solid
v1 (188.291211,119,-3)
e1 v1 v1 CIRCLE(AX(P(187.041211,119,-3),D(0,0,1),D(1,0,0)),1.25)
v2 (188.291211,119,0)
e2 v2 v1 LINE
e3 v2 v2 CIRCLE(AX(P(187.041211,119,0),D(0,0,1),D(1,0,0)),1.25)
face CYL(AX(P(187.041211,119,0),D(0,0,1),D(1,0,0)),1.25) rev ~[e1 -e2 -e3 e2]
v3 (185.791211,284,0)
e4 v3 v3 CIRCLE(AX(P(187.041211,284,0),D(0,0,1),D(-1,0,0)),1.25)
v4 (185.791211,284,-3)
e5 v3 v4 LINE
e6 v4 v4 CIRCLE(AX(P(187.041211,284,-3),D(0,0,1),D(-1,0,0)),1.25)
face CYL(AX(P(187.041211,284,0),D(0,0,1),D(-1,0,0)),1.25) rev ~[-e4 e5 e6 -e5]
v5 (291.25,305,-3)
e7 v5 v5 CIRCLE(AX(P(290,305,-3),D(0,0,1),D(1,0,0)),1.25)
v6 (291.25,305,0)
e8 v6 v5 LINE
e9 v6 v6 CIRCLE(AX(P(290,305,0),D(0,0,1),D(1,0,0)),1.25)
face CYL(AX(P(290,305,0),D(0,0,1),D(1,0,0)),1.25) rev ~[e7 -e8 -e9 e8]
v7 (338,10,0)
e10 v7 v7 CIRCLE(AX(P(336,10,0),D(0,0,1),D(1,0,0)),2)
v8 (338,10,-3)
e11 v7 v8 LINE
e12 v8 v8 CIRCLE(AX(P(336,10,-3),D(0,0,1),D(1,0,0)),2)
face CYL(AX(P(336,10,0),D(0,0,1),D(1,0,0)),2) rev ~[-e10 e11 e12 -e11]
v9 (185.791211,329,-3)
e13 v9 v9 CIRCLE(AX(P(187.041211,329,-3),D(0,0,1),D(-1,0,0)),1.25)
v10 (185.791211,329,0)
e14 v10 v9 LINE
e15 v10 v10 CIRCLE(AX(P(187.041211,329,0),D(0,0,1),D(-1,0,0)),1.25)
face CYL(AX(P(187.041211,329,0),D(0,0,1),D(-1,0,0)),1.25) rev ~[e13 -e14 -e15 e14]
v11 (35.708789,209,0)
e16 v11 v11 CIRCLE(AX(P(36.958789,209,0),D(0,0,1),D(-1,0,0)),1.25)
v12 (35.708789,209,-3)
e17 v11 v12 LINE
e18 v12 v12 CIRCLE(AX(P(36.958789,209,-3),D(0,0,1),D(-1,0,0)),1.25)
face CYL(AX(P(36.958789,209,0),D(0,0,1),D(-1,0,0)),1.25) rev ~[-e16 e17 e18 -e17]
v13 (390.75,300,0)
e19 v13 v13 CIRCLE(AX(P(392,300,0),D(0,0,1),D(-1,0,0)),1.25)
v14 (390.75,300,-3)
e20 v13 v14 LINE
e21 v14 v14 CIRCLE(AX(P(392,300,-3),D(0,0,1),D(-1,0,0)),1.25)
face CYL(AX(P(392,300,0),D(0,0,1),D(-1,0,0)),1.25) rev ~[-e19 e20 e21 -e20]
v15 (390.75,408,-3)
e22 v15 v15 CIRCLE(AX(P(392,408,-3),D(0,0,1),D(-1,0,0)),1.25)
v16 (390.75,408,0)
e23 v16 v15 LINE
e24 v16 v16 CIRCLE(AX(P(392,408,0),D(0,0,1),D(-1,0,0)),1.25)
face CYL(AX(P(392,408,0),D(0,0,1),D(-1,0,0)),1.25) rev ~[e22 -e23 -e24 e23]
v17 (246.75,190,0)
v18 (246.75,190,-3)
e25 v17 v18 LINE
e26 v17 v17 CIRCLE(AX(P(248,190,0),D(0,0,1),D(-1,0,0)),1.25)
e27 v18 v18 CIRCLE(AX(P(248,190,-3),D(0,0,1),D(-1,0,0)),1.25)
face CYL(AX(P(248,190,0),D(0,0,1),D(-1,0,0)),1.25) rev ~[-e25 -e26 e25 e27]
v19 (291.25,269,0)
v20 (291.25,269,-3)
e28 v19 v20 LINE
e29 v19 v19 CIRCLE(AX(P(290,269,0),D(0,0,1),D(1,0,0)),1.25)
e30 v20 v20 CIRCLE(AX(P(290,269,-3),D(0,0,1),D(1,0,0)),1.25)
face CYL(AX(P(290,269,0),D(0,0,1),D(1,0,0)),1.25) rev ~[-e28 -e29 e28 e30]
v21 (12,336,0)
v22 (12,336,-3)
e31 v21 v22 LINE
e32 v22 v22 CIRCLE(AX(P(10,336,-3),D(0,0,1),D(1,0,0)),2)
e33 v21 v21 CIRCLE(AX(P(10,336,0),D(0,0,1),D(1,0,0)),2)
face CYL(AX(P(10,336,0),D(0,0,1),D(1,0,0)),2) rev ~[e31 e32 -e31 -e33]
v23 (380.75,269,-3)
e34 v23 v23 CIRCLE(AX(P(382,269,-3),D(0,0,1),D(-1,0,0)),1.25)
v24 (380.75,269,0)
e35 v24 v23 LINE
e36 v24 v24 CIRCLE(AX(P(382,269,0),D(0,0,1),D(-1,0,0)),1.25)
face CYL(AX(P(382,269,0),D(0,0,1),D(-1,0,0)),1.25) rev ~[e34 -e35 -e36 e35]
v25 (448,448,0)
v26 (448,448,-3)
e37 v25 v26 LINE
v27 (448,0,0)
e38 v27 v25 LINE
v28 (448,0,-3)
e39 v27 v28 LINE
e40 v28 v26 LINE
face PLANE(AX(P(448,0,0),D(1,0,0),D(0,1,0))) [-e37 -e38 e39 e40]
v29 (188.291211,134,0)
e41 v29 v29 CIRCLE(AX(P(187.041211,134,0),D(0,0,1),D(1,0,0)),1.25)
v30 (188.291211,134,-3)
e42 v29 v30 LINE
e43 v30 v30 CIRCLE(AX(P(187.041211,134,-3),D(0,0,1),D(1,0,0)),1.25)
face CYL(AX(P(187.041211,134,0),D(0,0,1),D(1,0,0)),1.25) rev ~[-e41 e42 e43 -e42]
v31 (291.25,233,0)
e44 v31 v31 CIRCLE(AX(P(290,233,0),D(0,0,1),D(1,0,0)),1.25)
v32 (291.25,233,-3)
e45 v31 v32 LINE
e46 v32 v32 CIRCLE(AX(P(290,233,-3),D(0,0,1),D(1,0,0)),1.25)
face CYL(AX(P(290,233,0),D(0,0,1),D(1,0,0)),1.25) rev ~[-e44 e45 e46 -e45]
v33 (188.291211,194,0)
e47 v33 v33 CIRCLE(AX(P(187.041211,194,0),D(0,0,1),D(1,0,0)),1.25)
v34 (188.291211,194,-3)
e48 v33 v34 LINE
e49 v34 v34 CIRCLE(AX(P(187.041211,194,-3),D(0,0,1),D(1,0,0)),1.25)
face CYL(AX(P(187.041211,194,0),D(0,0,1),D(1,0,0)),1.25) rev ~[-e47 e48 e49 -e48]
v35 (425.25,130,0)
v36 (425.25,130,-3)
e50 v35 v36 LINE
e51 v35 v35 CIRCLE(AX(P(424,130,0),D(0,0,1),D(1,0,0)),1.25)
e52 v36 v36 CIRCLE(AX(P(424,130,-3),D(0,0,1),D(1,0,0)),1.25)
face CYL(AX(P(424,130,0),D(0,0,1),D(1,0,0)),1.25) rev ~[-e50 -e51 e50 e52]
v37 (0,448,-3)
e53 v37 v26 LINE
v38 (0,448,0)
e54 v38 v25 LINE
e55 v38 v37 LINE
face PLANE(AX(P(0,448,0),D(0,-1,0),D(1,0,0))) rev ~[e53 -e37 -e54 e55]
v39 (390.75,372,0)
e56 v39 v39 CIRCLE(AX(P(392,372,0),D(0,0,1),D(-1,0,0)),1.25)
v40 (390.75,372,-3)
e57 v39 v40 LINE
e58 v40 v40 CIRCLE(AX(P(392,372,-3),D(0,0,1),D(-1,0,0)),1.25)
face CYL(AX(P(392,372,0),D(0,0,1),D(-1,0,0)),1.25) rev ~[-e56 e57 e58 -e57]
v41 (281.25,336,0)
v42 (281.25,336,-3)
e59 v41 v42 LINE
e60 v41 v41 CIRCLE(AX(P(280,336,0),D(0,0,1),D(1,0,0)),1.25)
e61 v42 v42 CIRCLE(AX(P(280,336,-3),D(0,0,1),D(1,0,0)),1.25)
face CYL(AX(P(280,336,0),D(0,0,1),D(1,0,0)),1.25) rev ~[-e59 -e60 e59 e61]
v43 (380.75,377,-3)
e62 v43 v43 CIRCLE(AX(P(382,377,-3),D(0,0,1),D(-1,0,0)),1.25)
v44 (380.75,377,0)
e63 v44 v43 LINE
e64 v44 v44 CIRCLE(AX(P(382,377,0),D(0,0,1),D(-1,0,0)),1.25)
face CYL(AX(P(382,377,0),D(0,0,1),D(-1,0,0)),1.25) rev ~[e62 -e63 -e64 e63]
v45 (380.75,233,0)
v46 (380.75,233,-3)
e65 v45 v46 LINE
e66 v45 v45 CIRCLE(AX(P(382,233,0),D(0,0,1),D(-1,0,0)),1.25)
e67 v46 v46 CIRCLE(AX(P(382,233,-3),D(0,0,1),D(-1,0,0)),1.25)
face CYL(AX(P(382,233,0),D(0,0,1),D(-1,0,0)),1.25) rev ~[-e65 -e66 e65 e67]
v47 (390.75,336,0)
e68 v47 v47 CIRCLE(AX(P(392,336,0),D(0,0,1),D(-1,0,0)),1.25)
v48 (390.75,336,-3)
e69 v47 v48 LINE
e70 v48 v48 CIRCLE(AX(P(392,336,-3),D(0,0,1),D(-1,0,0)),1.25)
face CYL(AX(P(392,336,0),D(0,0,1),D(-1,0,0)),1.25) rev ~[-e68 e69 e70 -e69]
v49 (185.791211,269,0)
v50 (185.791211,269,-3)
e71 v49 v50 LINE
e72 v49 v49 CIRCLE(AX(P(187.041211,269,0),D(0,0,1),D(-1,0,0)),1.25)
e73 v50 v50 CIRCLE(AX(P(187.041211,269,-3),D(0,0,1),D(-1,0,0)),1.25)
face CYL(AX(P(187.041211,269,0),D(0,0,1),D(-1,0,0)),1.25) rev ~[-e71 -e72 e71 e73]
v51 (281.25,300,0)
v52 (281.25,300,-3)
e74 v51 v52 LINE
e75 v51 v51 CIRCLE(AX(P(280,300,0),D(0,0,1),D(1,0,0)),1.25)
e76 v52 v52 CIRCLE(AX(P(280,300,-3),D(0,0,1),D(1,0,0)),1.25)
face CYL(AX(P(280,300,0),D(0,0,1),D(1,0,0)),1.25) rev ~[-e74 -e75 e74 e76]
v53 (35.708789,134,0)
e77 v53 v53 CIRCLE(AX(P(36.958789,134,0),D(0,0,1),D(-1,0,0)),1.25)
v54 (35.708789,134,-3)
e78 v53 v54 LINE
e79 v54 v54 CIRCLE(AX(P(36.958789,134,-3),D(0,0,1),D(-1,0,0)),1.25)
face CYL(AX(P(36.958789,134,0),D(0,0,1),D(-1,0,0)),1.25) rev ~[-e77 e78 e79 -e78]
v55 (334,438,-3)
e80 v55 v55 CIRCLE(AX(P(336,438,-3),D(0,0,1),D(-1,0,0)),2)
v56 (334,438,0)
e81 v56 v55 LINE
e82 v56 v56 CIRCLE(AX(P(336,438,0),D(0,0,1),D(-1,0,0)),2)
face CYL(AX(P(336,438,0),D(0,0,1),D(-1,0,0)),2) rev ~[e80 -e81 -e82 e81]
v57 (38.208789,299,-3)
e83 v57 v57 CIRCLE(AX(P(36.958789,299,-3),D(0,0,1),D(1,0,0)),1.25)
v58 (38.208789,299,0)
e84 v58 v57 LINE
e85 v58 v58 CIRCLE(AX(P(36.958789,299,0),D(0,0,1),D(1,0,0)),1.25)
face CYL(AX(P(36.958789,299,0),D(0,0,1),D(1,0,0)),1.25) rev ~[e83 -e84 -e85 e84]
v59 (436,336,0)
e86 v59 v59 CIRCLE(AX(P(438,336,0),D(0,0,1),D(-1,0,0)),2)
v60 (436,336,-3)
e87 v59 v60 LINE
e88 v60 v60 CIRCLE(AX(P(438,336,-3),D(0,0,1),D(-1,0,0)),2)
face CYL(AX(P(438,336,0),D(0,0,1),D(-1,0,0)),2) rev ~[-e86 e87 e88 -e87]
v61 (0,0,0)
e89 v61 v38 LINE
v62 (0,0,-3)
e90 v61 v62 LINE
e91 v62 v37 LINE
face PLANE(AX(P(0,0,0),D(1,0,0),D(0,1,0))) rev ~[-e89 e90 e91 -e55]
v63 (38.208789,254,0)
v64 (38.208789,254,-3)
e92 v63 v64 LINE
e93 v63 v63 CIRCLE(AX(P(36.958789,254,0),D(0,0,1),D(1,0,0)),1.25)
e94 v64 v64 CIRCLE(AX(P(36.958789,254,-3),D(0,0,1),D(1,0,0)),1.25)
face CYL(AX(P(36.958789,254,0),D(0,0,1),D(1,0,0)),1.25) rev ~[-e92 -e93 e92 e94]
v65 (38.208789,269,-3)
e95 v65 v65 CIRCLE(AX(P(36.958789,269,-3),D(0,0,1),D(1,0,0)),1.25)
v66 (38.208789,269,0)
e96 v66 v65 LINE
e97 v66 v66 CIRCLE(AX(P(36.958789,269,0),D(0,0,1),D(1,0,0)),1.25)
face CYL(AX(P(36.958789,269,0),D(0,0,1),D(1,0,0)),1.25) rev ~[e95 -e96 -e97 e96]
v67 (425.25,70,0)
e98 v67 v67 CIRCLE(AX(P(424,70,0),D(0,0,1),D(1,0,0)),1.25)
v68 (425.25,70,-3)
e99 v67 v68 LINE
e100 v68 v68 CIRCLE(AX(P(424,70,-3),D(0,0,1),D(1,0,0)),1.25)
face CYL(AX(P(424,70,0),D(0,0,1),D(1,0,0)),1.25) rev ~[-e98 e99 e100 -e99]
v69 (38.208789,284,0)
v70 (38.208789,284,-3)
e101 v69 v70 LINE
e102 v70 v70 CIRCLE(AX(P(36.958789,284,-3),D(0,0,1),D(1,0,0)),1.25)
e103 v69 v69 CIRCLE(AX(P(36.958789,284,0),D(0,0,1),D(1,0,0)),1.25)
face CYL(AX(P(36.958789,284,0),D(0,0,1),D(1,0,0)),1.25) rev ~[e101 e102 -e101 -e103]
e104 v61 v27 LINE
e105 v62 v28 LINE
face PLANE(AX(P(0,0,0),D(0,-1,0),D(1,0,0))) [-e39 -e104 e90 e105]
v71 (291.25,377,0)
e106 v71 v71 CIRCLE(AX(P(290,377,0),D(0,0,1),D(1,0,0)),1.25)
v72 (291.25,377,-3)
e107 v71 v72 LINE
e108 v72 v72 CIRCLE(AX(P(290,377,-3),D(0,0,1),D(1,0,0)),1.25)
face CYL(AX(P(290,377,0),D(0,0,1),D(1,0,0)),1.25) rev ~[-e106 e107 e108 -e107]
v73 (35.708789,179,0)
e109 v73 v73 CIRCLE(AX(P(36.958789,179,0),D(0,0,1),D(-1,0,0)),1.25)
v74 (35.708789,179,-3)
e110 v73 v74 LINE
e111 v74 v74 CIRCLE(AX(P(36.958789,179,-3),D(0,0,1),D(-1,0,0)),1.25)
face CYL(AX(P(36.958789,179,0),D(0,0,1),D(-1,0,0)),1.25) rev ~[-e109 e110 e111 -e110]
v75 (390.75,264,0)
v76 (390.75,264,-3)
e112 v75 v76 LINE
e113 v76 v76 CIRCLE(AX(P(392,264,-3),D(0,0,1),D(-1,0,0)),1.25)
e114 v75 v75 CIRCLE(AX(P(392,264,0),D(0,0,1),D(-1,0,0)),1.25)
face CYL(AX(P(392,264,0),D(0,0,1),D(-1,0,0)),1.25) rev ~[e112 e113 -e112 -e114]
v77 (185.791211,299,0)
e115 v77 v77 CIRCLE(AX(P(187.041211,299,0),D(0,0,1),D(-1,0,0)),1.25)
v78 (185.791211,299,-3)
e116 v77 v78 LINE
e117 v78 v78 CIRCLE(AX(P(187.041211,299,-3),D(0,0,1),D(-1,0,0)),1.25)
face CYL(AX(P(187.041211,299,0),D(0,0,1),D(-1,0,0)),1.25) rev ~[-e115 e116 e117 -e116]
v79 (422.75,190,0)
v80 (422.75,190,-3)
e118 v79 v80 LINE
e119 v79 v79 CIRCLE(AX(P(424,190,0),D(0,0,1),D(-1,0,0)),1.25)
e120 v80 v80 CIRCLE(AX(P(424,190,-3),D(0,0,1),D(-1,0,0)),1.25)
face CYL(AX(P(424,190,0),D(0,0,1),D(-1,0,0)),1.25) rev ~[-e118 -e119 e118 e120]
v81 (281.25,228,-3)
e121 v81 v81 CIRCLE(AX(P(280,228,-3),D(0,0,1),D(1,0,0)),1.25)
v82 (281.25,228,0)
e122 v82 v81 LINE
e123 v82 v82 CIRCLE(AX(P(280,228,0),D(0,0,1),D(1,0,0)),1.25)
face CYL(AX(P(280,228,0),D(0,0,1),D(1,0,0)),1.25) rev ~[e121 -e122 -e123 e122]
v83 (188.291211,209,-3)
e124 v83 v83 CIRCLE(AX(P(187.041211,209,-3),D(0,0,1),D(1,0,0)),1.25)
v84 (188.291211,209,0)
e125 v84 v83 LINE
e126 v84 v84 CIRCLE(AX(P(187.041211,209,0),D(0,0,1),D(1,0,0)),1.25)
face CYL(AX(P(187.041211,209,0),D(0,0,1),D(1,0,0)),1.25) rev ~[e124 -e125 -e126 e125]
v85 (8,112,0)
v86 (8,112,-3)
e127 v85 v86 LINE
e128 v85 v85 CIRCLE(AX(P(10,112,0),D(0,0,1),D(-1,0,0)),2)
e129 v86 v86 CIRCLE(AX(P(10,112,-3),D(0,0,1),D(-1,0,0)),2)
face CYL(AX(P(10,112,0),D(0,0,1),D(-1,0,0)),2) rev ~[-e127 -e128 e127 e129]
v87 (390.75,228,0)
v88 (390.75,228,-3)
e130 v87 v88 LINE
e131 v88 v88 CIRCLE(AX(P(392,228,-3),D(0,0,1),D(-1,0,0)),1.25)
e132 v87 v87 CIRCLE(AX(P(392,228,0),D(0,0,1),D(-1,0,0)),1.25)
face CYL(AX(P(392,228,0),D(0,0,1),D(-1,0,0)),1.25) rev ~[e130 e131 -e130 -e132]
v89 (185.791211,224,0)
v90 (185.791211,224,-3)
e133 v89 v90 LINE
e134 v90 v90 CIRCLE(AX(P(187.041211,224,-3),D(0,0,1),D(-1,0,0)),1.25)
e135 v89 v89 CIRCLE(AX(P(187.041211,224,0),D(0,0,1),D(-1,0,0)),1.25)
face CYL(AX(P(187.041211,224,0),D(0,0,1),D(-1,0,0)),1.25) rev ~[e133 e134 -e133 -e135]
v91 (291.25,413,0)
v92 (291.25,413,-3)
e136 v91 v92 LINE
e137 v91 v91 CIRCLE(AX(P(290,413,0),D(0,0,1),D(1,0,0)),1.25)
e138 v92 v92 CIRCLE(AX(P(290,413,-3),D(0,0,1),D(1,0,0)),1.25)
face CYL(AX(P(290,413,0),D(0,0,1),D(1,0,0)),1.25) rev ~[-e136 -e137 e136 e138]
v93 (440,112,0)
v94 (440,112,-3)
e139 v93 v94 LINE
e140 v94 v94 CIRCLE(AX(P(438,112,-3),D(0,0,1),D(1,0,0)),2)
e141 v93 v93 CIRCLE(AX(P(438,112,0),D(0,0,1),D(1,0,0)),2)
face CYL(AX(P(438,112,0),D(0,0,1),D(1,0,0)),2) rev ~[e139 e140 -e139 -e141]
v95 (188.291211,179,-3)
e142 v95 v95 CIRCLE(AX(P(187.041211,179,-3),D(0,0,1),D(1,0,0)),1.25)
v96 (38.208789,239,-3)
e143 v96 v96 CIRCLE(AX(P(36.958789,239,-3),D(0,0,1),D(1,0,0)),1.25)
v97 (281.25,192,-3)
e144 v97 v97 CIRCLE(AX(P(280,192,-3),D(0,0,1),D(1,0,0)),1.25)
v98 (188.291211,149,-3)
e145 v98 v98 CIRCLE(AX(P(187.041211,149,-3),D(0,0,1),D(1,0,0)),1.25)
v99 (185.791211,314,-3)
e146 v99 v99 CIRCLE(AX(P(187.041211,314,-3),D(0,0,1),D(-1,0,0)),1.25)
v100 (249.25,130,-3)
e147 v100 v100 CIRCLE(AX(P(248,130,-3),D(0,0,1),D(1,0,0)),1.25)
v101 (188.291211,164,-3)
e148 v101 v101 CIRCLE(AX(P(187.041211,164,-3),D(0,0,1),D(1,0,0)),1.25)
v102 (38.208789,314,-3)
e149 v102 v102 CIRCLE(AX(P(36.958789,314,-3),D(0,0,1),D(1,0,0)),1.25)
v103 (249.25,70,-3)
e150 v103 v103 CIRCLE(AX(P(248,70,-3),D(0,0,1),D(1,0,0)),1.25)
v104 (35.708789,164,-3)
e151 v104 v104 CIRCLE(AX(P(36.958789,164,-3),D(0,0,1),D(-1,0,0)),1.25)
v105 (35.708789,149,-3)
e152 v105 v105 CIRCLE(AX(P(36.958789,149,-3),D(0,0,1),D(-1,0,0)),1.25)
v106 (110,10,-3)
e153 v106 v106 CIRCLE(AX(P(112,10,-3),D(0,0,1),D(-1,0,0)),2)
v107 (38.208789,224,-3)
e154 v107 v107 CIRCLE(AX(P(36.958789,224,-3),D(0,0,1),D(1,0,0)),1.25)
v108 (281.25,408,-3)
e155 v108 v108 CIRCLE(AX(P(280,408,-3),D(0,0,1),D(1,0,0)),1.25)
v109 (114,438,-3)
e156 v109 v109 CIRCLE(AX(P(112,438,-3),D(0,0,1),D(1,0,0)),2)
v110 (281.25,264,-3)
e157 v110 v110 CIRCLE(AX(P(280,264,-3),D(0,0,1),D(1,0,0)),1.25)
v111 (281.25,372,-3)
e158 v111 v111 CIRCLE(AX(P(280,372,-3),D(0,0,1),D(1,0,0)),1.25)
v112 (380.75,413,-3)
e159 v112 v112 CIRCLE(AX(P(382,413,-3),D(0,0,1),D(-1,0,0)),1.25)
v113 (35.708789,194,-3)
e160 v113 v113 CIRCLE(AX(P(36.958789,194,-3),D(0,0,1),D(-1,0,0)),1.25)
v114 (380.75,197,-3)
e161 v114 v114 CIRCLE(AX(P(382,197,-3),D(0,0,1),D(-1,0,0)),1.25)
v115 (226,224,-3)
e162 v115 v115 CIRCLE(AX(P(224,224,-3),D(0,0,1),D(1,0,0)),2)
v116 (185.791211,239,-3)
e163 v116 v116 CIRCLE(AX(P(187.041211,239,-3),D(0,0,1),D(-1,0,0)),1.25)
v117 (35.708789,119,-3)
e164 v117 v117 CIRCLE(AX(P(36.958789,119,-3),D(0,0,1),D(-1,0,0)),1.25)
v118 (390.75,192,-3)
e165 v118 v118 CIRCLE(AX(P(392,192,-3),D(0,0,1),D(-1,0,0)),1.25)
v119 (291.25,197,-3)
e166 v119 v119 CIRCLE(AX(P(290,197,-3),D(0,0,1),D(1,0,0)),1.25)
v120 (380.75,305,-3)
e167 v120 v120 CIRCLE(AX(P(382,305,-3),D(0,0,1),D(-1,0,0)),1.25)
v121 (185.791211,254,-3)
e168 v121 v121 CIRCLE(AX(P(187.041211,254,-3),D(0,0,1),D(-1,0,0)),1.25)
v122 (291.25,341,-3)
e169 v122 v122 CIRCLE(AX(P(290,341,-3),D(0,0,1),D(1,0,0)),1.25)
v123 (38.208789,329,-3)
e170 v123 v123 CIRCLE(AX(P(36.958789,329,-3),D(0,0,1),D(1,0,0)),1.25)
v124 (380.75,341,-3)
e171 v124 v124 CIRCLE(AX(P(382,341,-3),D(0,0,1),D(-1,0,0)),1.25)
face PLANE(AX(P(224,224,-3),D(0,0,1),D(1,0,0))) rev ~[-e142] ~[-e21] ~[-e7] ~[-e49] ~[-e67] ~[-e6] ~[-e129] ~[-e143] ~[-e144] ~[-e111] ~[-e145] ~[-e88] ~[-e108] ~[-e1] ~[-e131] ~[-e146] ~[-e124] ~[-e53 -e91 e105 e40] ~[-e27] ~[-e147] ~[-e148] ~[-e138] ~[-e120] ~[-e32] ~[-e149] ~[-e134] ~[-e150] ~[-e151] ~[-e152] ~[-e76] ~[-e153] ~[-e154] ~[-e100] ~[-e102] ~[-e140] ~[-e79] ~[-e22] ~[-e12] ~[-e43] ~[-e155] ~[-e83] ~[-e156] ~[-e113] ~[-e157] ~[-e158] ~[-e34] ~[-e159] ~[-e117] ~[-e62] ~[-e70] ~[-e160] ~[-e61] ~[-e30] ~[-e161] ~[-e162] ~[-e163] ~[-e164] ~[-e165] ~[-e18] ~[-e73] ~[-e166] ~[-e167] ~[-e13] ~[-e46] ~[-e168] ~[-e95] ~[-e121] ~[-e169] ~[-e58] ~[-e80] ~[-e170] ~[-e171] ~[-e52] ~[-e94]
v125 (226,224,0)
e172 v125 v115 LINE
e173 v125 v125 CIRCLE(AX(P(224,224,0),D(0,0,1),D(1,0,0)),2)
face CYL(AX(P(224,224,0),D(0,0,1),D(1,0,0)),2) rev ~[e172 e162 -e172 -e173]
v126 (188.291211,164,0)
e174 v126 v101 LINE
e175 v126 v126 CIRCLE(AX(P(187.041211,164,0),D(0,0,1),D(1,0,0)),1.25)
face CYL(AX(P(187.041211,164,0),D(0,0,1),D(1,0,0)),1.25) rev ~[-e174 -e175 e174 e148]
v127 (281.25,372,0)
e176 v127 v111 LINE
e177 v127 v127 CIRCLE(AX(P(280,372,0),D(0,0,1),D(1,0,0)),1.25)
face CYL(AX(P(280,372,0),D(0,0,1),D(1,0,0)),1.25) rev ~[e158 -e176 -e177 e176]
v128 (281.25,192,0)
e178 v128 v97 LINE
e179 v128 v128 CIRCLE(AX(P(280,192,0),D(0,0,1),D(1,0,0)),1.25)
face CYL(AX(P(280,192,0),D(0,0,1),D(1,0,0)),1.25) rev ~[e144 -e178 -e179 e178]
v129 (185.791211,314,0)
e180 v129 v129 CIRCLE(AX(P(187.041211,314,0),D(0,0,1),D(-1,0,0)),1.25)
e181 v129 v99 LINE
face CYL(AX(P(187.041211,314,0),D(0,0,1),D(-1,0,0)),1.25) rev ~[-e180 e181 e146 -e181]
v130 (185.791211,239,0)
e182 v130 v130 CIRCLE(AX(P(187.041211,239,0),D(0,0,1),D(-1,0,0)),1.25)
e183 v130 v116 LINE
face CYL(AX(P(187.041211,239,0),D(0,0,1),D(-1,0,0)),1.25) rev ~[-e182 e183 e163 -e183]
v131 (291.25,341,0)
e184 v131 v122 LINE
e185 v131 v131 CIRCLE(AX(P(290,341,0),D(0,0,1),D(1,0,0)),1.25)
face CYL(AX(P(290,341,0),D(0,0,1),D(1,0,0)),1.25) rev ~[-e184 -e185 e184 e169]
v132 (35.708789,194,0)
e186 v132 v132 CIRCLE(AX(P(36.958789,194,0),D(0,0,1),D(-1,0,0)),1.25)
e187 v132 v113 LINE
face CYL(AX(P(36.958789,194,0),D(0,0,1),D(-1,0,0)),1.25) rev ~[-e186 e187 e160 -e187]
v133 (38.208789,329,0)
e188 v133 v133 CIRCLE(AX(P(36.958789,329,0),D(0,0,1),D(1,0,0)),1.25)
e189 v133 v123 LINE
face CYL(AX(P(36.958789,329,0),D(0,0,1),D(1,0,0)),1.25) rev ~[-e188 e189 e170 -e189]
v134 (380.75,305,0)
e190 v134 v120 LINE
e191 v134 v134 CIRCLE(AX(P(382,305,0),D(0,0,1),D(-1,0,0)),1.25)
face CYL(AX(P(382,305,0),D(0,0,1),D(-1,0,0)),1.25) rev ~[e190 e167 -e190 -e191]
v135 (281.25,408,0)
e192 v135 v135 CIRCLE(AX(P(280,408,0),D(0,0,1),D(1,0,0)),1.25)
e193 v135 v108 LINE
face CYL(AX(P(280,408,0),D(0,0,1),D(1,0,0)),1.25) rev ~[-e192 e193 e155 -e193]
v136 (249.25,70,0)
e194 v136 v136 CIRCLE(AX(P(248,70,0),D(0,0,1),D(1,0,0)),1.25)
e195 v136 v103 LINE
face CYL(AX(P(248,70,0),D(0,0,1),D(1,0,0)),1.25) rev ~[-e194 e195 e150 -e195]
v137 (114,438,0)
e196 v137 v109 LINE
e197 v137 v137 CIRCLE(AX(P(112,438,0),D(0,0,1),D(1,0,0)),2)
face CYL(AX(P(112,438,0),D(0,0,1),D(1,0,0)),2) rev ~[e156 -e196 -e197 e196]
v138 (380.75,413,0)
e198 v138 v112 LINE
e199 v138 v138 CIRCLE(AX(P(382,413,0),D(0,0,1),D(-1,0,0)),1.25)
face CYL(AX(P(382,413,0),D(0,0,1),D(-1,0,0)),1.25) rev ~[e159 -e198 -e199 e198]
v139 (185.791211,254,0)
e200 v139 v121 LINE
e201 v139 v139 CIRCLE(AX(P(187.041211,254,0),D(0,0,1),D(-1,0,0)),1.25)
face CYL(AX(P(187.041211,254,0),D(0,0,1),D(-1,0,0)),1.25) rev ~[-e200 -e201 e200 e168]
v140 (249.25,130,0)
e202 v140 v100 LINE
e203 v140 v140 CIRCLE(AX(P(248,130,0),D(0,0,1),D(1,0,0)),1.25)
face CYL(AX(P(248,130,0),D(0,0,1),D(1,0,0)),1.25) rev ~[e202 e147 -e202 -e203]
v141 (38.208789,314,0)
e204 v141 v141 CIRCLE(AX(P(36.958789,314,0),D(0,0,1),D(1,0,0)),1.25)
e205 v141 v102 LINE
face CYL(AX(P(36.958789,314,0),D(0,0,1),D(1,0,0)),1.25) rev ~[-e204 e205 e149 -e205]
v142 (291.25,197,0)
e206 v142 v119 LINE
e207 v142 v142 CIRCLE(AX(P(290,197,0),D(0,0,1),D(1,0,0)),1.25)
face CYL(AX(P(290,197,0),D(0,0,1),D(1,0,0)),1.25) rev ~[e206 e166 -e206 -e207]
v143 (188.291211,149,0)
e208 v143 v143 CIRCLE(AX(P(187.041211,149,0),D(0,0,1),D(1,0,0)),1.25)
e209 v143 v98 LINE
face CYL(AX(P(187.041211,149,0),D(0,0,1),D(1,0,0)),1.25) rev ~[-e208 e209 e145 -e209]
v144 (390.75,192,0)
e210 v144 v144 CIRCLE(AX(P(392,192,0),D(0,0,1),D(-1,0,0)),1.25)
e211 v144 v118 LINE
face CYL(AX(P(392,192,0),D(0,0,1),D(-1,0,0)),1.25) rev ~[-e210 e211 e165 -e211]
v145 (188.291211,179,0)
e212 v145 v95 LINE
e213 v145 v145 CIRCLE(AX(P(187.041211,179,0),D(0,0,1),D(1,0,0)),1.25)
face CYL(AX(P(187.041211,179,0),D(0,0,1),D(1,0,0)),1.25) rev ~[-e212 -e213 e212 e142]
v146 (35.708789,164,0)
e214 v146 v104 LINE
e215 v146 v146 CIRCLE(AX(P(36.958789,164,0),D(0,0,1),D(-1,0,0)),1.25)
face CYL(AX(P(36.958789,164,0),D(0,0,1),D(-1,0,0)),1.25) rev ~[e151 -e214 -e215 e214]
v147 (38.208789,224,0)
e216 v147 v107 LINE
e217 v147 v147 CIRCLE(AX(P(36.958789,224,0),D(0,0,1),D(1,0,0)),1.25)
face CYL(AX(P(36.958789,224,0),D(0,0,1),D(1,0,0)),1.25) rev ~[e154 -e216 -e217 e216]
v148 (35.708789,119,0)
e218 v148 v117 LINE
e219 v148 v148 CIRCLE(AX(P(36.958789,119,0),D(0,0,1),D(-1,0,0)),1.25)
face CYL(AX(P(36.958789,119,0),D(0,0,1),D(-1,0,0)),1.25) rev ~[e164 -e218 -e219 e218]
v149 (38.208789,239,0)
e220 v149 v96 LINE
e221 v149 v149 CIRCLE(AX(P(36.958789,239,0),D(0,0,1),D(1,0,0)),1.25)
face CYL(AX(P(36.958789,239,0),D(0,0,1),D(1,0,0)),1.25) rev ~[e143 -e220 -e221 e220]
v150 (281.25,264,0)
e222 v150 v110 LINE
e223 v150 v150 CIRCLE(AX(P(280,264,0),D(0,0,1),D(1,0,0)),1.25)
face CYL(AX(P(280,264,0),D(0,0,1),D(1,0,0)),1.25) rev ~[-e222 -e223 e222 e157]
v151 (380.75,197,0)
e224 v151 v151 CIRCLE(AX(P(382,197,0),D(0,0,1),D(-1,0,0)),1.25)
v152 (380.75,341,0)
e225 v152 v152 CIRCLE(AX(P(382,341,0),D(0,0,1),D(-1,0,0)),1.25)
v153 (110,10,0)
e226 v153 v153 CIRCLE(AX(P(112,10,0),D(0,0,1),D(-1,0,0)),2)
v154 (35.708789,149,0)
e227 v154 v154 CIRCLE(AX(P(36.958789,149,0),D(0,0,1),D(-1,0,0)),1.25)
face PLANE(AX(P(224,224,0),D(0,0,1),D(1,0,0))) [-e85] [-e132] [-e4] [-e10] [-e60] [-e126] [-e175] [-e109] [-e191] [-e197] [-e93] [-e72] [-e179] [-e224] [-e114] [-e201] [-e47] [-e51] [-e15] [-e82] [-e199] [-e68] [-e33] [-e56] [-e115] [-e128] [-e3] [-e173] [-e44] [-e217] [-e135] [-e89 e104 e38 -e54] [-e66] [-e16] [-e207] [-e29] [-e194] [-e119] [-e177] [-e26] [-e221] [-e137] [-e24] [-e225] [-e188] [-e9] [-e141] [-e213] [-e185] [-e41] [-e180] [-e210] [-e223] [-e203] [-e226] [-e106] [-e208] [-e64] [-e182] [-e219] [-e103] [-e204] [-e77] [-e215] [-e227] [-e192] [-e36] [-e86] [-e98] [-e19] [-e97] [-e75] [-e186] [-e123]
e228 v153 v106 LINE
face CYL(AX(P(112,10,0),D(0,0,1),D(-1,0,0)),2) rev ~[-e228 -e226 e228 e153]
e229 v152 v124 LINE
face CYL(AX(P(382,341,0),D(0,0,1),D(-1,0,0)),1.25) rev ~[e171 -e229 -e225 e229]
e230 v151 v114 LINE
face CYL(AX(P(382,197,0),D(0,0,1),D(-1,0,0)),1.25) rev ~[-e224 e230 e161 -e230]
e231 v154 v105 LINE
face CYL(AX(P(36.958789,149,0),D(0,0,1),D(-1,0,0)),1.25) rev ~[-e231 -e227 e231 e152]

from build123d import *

# Parameters (mm, degrees)
SCHIZZO1_W                   = 448
SCHIZZO1_H                   = 448
SCHIZZO1_R                   = 2
SCHIZZO1_R_2                 = 1.25
ESTRUSIONE_ESTRUSIONE1_DEPTH = 3


with BuildPart() as part:
    # Schizzo1 → Estrusione-Estrusione1 (new body)
    with BuildSketch(Plane.XY):
        with Locations((224, 224)):
            Rectangle(SCHIZZO1_W, SCHIZZO1_H)
        with Locations((10, 336)):
            Circle(SCHIZZO1_R, mode=Mode.SUBTRACT)
        with Locations(Location((336, 438, 0), (0, 0, 180))):
            Circle(SCHIZZO1_R, mode=Mode.SUBTRACT)
        with Locations(Location((438, 336, 0), (0, 0, 180))):
            Circle(SCHIZZO1_R, mode=Mode.SUBTRACT)
        with Locations((438, 112)):
            Circle(SCHIZZO1_R, mode=Mode.SUBTRACT)
        with Locations((336, 10)):
            Circle(SCHIZZO1_R, mode=Mode.SUBTRACT)
        with Locations(Location((112, 10, 0), (0, 0, 180))):
            Circle(SCHIZZO1_R, mode=Mode.SUBTRACT)
        with Locations(Location((10, 112, 0), (0, 0, 180))):
            Circle(SCHIZZO1_R, mode=Mode.SUBTRACT)
        with Locations((36.958788995, 224)):
            Circle(SCHIZZO1_R_2, mode=Mode.SUBTRACT)
        with Locations((112, 438)):
            Circle(SCHIZZO1_R, mode=Mode.SUBTRACT)
        with Locations((36.958788995, 239)):
            Circle(SCHIZZO1_R_2, mode=Mode.SUBTRACT)
        with Locations((36.958788995, 254)):
            Circle(SCHIZZO1_R_2, mode=Mode.SUBTRACT)
        with Locations((36.958788995, 269)):
            Circle(SCHIZZO1_R_2, mode=Mode.SUBTRACT)
        with Locations((36.958788995, 284)):
            Circle(SCHIZZO1_R_2, mode=Mode.SUBTRACT)
        with Locations((36.958788995, 299)):
            Circle(SCHIZZO1_R_2, mode=Mode.SUBTRACT)
        with Locations((36.958788995, 314)):
            Circle(SCHIZZO1_R_2, mode=Mode.SUBTRACT)
        with Locations((36.958788995, 329)):
            Circle(SCHIZZO1_R_2, mode=Mode.SUBTRACT)
        with Locations((248, 70)):
            Circle(SCHIZZO1_R_2, mode=Mode.SUBTRACT)
        with Locations((248, 130)):
            Circle(SCHIZZO1_R_2, mode=Mode.SUBTRACT)
        with Locations((424, 130)):
            Circle(SCHIZZO1_R_2, mode=Mode.SUBTRACT)
        with Locations((424, 70)):
            Circle(SCHIZZO1_R_2, mode=Mode.SUBTRACT)
        with Locations((290, 413)):
            Circle(SCHIZZO1_R_2, mode=Mode.SUBTRACT)
        with Locations((280, 408)):
            Circle(SCHIZZO1_R_2, mode=Mode.SUBTRACT)
        with Locations(Location((392, 408, 0), (0, 0, 180))):
            Circle(SCHIZZO1_R_2, mode=Mode.SUBTRACT)
        with Locations(Location((382, 413, 0), (0, 0, 180))):
            Circle(SCHIZZO1_R_2, mode=Mode.SUBTRACT)
        with Locations((290, 377)):
            Circle(SCHIZZO1_R_2, mode=Mode.SUBTRACT)
        with Locations((280, 372)):
            Circle(SCHIZZO1_R_2, mode=Mode.SUBTRACT)
        with Locations(Location((392, 372, 0), (0, 0, 180))):
            Circle(SCHIZZO1_R_2, mode=Mode.SUBTRACT)
        with Locations(Location((382, 377, 0), (0, 0, 180))):
            Circle(SCHIZZO1_R_2, mode=Mode.SUBTRACT)
        with Locations((290, 341)):
            Circle(SCHIZZO1_R_2, mode=Mode.SUBTRACT)
        with Locations((280, 336)):
            Circle(SCHIZZO1_R_2, mode=Mode.SUBTRACT)
        with Locations(Location((392, 336, 0), (0, 0, 180))):
            Circle(SCHIZZO1_R_2, mode=Mode.SUBTRACT)
        with Locations(Location((382, 341, 0), (0, 0, 180))):
            Circle(SCHIZZO1_R_2, mode=Mode.SUBTRACT)
        with Locations((290, 305)):
            Circle(SCHIZZO1_R_2, mode=Mode.SUBTRACT)
        with Locations((280, 300)):
            Circle(SCHIZZO1_R_2, mode=Mode.SUBTRACT)
        with Locations(Location((392, 300, 0), (0, 0, 180))):
            Circle(SCHIZZO1_R_2, mode=Mode.SUBTRACT)
        with Locations(Location((382, 305, 0), (0, 0, 180))):
            Circle(SCHIZZO1_R_2, mode=Mode.SUBTRACT)
        with Locations((290, 269)):
            Circle(SCHIZZO1_R_2, mode=Mode.SUBTRACT)
        with Locations((280, 264)):
            Circle(SCHIZZO1_R_2, mode=Mode.SUBTRACT)
        with Locations(Location((392, 264, 0), (0, 0, 180))):
            Circle(SCHIZZO1_R_2, mode=Mode.SUBTRACT)
        with Locations(Location((382, 269, 0), (0, 0, 180))):
            Circle(SCHIZZO1_R_2, mode=Mode.SUBTRACT)
        with Locations((290, 233)):
            Circle(SCHIZZO1_R_2, mode=Mode.SUBTRACT)
        with Locations((280, 228)):
            Circle(SCHIZZO1_R_2, mode=Mode.SUBTRACT)
        with Locations(Location((392, 228, 0), (0, 0, 180))):
            Circle(SCHIZZO1_R_2, mode=Mode.SUBTRACT)
        with Locations(Location((382, 233, 0), (0, 0, 180))):
            Circle(SCHIZZO1_R_2, mode=Mode.SUBTRACT)
        with Locations((290, 197)):
            Circle(SCHIZZO1_R_2, mode=Mode.SUBTRACT)
        with Locations((280, 192)):
            Circle(SCHIZZO1_R_2, mode=Mode.SUBTRACT)
        with Locations(Location((392, 192, 0), (0, 0, 180))):
            Circle(SCHIZZO1_R_2, mode=Mode.SUBTRACT)
        with Locations(Location((382, 197, 0), (0, 0, 180))):
            Circle(SCHIZZO1_R_2, mode=Mode.SUBTRACT)
        with Locations(Location((36.958788995, 119, 0), (0, 0, 180))):
            Circle(SCHIZZO1_R_2, mode=Mode.SUBTRACT)
        with Locations(Location((36.958788995, 134, 0), (0, 0, 180))):
            Circle(SCHIZZO1_R_2, mode=Mode.SUBTRACT)
        with Locations(Location((36.958788995, 149, 0), (0, 0, 180))):
            Circle(SCHIZZO1_R_2, mode=Mode.SUBTRACT)
        with Locations(Location((36.958788995, 164, 0), (0, 0, 180))):
            Circle(SCHIZZO1_R_2, mode=Mode.SUBTRACT)
        with Locations(Location((36.958788995, 179, 0), (0, 0, 180))):
            Circle(SCHIZZO1_R_2, mode=Mode.SUBTRACT)
        with Locations(Location((36.958788995, 194, 0), (0, 0, 180))):
            Circle(SCHIZZO1_R_2, mode=Mode.SUBTRACT)
        with Locations(Location((36.958788995, 209, 0), (0, 0, 180))):
            Circle(SCHIZZO1_R_2, mode=Mode.SUBTRACT)
        with Locations((187.041211005, 209)):
            Circle(SCHIZZO1_R_2, mode=Mode.SUBTRACT)
        with Locations((187.041211005, 194)):
            Circle(SCHIZZO1_R_2, mode=Mode.SUBTRACT)
        with Locations((187.041211005, 179)):
            Circle(SCHIZZO1_R_2, mode=Mode.SUBTRACT)
        with Locations((187.041211005, 164)):
            Circle(SCHIZZO1_R_2, mode=Mode.SUBTRACT)
        with Locations((187.041211005, 149)):
            Circle(SCHIZZO1_R_2, mode=Mode.SUBTRACT)
        with Locations((187.041211005, 134)):
            Circle(SCHIZZO1_R_2, mode=Mode.SUBTRACT)
        with Locations((187.041211005, 119)):
            Circle(SCHIZZO1_R_2, mode=Mode.SUBTRACT)
        with Locations(Location((187.041211005, 329, 0), (0, 0, 180))):
            Circle(SCHIZZO1_R_2, mode=Mode.SUBTRACT)
        with Locations(Location((187.041211005, 314, 0), (0, 0, 180))):
            Circle(SCHIZZO1_R_2, mode=Mode.SUBTRACT)
        with Locations(Location((187.041211005, 299, 0), (0, 0, 180))):
            Circle(SCHIZZO1_R_2, mode=Mode.SUBTRACT)
        with Locations(Location((187.041211005, 284, 0), (0, 0, 180))):
            Circle(SCHIZZO1_R_2, mode=Mode.SUBTRACT)
        with Locations(Location((187.041211005, 269, 0), (0, 0, 180))):
            Circle(SCHIZZO1_R_2, mode=Mode.SUBTRACT)
        with Locations(Location((187.041211005, 254, 0), (0, 0, 180))):
            Circle(SCHIZZO1_R_2, mode=Mode.SUBTRACT)
        with Locations(Location((187.041211005, 239, 0), (0, 0, 180))):
            Circle(SCHIZZO1_R_2, mode=Mode.SUBTRACT)
        with Locations(Location((187.041211005, 224, 0), (0, 0, 180))):
            Circle(SCHIZZO1_R_2, mode=Mode.SUBTRACT)
        with Locations((224, 224)):
            Circle(SCHIZZO1_R, mode=Mode.SUBTRACT)
        with Locations(Location((424, 190, 0), (0, 0, 180))):
            Circle(SCHIZZO1_R_2, mode=Mode.SUBTRACT)
        with Locations(Location((248, 190, 0), (0, 0, 180))):
            Circle(SCHIZZO1_R_2, mode=Mode.SUBTRACT)
    extrude(amount=-ESTRUSIONE_ESTRUSIONE1_DEPTH)


solid = part.part
